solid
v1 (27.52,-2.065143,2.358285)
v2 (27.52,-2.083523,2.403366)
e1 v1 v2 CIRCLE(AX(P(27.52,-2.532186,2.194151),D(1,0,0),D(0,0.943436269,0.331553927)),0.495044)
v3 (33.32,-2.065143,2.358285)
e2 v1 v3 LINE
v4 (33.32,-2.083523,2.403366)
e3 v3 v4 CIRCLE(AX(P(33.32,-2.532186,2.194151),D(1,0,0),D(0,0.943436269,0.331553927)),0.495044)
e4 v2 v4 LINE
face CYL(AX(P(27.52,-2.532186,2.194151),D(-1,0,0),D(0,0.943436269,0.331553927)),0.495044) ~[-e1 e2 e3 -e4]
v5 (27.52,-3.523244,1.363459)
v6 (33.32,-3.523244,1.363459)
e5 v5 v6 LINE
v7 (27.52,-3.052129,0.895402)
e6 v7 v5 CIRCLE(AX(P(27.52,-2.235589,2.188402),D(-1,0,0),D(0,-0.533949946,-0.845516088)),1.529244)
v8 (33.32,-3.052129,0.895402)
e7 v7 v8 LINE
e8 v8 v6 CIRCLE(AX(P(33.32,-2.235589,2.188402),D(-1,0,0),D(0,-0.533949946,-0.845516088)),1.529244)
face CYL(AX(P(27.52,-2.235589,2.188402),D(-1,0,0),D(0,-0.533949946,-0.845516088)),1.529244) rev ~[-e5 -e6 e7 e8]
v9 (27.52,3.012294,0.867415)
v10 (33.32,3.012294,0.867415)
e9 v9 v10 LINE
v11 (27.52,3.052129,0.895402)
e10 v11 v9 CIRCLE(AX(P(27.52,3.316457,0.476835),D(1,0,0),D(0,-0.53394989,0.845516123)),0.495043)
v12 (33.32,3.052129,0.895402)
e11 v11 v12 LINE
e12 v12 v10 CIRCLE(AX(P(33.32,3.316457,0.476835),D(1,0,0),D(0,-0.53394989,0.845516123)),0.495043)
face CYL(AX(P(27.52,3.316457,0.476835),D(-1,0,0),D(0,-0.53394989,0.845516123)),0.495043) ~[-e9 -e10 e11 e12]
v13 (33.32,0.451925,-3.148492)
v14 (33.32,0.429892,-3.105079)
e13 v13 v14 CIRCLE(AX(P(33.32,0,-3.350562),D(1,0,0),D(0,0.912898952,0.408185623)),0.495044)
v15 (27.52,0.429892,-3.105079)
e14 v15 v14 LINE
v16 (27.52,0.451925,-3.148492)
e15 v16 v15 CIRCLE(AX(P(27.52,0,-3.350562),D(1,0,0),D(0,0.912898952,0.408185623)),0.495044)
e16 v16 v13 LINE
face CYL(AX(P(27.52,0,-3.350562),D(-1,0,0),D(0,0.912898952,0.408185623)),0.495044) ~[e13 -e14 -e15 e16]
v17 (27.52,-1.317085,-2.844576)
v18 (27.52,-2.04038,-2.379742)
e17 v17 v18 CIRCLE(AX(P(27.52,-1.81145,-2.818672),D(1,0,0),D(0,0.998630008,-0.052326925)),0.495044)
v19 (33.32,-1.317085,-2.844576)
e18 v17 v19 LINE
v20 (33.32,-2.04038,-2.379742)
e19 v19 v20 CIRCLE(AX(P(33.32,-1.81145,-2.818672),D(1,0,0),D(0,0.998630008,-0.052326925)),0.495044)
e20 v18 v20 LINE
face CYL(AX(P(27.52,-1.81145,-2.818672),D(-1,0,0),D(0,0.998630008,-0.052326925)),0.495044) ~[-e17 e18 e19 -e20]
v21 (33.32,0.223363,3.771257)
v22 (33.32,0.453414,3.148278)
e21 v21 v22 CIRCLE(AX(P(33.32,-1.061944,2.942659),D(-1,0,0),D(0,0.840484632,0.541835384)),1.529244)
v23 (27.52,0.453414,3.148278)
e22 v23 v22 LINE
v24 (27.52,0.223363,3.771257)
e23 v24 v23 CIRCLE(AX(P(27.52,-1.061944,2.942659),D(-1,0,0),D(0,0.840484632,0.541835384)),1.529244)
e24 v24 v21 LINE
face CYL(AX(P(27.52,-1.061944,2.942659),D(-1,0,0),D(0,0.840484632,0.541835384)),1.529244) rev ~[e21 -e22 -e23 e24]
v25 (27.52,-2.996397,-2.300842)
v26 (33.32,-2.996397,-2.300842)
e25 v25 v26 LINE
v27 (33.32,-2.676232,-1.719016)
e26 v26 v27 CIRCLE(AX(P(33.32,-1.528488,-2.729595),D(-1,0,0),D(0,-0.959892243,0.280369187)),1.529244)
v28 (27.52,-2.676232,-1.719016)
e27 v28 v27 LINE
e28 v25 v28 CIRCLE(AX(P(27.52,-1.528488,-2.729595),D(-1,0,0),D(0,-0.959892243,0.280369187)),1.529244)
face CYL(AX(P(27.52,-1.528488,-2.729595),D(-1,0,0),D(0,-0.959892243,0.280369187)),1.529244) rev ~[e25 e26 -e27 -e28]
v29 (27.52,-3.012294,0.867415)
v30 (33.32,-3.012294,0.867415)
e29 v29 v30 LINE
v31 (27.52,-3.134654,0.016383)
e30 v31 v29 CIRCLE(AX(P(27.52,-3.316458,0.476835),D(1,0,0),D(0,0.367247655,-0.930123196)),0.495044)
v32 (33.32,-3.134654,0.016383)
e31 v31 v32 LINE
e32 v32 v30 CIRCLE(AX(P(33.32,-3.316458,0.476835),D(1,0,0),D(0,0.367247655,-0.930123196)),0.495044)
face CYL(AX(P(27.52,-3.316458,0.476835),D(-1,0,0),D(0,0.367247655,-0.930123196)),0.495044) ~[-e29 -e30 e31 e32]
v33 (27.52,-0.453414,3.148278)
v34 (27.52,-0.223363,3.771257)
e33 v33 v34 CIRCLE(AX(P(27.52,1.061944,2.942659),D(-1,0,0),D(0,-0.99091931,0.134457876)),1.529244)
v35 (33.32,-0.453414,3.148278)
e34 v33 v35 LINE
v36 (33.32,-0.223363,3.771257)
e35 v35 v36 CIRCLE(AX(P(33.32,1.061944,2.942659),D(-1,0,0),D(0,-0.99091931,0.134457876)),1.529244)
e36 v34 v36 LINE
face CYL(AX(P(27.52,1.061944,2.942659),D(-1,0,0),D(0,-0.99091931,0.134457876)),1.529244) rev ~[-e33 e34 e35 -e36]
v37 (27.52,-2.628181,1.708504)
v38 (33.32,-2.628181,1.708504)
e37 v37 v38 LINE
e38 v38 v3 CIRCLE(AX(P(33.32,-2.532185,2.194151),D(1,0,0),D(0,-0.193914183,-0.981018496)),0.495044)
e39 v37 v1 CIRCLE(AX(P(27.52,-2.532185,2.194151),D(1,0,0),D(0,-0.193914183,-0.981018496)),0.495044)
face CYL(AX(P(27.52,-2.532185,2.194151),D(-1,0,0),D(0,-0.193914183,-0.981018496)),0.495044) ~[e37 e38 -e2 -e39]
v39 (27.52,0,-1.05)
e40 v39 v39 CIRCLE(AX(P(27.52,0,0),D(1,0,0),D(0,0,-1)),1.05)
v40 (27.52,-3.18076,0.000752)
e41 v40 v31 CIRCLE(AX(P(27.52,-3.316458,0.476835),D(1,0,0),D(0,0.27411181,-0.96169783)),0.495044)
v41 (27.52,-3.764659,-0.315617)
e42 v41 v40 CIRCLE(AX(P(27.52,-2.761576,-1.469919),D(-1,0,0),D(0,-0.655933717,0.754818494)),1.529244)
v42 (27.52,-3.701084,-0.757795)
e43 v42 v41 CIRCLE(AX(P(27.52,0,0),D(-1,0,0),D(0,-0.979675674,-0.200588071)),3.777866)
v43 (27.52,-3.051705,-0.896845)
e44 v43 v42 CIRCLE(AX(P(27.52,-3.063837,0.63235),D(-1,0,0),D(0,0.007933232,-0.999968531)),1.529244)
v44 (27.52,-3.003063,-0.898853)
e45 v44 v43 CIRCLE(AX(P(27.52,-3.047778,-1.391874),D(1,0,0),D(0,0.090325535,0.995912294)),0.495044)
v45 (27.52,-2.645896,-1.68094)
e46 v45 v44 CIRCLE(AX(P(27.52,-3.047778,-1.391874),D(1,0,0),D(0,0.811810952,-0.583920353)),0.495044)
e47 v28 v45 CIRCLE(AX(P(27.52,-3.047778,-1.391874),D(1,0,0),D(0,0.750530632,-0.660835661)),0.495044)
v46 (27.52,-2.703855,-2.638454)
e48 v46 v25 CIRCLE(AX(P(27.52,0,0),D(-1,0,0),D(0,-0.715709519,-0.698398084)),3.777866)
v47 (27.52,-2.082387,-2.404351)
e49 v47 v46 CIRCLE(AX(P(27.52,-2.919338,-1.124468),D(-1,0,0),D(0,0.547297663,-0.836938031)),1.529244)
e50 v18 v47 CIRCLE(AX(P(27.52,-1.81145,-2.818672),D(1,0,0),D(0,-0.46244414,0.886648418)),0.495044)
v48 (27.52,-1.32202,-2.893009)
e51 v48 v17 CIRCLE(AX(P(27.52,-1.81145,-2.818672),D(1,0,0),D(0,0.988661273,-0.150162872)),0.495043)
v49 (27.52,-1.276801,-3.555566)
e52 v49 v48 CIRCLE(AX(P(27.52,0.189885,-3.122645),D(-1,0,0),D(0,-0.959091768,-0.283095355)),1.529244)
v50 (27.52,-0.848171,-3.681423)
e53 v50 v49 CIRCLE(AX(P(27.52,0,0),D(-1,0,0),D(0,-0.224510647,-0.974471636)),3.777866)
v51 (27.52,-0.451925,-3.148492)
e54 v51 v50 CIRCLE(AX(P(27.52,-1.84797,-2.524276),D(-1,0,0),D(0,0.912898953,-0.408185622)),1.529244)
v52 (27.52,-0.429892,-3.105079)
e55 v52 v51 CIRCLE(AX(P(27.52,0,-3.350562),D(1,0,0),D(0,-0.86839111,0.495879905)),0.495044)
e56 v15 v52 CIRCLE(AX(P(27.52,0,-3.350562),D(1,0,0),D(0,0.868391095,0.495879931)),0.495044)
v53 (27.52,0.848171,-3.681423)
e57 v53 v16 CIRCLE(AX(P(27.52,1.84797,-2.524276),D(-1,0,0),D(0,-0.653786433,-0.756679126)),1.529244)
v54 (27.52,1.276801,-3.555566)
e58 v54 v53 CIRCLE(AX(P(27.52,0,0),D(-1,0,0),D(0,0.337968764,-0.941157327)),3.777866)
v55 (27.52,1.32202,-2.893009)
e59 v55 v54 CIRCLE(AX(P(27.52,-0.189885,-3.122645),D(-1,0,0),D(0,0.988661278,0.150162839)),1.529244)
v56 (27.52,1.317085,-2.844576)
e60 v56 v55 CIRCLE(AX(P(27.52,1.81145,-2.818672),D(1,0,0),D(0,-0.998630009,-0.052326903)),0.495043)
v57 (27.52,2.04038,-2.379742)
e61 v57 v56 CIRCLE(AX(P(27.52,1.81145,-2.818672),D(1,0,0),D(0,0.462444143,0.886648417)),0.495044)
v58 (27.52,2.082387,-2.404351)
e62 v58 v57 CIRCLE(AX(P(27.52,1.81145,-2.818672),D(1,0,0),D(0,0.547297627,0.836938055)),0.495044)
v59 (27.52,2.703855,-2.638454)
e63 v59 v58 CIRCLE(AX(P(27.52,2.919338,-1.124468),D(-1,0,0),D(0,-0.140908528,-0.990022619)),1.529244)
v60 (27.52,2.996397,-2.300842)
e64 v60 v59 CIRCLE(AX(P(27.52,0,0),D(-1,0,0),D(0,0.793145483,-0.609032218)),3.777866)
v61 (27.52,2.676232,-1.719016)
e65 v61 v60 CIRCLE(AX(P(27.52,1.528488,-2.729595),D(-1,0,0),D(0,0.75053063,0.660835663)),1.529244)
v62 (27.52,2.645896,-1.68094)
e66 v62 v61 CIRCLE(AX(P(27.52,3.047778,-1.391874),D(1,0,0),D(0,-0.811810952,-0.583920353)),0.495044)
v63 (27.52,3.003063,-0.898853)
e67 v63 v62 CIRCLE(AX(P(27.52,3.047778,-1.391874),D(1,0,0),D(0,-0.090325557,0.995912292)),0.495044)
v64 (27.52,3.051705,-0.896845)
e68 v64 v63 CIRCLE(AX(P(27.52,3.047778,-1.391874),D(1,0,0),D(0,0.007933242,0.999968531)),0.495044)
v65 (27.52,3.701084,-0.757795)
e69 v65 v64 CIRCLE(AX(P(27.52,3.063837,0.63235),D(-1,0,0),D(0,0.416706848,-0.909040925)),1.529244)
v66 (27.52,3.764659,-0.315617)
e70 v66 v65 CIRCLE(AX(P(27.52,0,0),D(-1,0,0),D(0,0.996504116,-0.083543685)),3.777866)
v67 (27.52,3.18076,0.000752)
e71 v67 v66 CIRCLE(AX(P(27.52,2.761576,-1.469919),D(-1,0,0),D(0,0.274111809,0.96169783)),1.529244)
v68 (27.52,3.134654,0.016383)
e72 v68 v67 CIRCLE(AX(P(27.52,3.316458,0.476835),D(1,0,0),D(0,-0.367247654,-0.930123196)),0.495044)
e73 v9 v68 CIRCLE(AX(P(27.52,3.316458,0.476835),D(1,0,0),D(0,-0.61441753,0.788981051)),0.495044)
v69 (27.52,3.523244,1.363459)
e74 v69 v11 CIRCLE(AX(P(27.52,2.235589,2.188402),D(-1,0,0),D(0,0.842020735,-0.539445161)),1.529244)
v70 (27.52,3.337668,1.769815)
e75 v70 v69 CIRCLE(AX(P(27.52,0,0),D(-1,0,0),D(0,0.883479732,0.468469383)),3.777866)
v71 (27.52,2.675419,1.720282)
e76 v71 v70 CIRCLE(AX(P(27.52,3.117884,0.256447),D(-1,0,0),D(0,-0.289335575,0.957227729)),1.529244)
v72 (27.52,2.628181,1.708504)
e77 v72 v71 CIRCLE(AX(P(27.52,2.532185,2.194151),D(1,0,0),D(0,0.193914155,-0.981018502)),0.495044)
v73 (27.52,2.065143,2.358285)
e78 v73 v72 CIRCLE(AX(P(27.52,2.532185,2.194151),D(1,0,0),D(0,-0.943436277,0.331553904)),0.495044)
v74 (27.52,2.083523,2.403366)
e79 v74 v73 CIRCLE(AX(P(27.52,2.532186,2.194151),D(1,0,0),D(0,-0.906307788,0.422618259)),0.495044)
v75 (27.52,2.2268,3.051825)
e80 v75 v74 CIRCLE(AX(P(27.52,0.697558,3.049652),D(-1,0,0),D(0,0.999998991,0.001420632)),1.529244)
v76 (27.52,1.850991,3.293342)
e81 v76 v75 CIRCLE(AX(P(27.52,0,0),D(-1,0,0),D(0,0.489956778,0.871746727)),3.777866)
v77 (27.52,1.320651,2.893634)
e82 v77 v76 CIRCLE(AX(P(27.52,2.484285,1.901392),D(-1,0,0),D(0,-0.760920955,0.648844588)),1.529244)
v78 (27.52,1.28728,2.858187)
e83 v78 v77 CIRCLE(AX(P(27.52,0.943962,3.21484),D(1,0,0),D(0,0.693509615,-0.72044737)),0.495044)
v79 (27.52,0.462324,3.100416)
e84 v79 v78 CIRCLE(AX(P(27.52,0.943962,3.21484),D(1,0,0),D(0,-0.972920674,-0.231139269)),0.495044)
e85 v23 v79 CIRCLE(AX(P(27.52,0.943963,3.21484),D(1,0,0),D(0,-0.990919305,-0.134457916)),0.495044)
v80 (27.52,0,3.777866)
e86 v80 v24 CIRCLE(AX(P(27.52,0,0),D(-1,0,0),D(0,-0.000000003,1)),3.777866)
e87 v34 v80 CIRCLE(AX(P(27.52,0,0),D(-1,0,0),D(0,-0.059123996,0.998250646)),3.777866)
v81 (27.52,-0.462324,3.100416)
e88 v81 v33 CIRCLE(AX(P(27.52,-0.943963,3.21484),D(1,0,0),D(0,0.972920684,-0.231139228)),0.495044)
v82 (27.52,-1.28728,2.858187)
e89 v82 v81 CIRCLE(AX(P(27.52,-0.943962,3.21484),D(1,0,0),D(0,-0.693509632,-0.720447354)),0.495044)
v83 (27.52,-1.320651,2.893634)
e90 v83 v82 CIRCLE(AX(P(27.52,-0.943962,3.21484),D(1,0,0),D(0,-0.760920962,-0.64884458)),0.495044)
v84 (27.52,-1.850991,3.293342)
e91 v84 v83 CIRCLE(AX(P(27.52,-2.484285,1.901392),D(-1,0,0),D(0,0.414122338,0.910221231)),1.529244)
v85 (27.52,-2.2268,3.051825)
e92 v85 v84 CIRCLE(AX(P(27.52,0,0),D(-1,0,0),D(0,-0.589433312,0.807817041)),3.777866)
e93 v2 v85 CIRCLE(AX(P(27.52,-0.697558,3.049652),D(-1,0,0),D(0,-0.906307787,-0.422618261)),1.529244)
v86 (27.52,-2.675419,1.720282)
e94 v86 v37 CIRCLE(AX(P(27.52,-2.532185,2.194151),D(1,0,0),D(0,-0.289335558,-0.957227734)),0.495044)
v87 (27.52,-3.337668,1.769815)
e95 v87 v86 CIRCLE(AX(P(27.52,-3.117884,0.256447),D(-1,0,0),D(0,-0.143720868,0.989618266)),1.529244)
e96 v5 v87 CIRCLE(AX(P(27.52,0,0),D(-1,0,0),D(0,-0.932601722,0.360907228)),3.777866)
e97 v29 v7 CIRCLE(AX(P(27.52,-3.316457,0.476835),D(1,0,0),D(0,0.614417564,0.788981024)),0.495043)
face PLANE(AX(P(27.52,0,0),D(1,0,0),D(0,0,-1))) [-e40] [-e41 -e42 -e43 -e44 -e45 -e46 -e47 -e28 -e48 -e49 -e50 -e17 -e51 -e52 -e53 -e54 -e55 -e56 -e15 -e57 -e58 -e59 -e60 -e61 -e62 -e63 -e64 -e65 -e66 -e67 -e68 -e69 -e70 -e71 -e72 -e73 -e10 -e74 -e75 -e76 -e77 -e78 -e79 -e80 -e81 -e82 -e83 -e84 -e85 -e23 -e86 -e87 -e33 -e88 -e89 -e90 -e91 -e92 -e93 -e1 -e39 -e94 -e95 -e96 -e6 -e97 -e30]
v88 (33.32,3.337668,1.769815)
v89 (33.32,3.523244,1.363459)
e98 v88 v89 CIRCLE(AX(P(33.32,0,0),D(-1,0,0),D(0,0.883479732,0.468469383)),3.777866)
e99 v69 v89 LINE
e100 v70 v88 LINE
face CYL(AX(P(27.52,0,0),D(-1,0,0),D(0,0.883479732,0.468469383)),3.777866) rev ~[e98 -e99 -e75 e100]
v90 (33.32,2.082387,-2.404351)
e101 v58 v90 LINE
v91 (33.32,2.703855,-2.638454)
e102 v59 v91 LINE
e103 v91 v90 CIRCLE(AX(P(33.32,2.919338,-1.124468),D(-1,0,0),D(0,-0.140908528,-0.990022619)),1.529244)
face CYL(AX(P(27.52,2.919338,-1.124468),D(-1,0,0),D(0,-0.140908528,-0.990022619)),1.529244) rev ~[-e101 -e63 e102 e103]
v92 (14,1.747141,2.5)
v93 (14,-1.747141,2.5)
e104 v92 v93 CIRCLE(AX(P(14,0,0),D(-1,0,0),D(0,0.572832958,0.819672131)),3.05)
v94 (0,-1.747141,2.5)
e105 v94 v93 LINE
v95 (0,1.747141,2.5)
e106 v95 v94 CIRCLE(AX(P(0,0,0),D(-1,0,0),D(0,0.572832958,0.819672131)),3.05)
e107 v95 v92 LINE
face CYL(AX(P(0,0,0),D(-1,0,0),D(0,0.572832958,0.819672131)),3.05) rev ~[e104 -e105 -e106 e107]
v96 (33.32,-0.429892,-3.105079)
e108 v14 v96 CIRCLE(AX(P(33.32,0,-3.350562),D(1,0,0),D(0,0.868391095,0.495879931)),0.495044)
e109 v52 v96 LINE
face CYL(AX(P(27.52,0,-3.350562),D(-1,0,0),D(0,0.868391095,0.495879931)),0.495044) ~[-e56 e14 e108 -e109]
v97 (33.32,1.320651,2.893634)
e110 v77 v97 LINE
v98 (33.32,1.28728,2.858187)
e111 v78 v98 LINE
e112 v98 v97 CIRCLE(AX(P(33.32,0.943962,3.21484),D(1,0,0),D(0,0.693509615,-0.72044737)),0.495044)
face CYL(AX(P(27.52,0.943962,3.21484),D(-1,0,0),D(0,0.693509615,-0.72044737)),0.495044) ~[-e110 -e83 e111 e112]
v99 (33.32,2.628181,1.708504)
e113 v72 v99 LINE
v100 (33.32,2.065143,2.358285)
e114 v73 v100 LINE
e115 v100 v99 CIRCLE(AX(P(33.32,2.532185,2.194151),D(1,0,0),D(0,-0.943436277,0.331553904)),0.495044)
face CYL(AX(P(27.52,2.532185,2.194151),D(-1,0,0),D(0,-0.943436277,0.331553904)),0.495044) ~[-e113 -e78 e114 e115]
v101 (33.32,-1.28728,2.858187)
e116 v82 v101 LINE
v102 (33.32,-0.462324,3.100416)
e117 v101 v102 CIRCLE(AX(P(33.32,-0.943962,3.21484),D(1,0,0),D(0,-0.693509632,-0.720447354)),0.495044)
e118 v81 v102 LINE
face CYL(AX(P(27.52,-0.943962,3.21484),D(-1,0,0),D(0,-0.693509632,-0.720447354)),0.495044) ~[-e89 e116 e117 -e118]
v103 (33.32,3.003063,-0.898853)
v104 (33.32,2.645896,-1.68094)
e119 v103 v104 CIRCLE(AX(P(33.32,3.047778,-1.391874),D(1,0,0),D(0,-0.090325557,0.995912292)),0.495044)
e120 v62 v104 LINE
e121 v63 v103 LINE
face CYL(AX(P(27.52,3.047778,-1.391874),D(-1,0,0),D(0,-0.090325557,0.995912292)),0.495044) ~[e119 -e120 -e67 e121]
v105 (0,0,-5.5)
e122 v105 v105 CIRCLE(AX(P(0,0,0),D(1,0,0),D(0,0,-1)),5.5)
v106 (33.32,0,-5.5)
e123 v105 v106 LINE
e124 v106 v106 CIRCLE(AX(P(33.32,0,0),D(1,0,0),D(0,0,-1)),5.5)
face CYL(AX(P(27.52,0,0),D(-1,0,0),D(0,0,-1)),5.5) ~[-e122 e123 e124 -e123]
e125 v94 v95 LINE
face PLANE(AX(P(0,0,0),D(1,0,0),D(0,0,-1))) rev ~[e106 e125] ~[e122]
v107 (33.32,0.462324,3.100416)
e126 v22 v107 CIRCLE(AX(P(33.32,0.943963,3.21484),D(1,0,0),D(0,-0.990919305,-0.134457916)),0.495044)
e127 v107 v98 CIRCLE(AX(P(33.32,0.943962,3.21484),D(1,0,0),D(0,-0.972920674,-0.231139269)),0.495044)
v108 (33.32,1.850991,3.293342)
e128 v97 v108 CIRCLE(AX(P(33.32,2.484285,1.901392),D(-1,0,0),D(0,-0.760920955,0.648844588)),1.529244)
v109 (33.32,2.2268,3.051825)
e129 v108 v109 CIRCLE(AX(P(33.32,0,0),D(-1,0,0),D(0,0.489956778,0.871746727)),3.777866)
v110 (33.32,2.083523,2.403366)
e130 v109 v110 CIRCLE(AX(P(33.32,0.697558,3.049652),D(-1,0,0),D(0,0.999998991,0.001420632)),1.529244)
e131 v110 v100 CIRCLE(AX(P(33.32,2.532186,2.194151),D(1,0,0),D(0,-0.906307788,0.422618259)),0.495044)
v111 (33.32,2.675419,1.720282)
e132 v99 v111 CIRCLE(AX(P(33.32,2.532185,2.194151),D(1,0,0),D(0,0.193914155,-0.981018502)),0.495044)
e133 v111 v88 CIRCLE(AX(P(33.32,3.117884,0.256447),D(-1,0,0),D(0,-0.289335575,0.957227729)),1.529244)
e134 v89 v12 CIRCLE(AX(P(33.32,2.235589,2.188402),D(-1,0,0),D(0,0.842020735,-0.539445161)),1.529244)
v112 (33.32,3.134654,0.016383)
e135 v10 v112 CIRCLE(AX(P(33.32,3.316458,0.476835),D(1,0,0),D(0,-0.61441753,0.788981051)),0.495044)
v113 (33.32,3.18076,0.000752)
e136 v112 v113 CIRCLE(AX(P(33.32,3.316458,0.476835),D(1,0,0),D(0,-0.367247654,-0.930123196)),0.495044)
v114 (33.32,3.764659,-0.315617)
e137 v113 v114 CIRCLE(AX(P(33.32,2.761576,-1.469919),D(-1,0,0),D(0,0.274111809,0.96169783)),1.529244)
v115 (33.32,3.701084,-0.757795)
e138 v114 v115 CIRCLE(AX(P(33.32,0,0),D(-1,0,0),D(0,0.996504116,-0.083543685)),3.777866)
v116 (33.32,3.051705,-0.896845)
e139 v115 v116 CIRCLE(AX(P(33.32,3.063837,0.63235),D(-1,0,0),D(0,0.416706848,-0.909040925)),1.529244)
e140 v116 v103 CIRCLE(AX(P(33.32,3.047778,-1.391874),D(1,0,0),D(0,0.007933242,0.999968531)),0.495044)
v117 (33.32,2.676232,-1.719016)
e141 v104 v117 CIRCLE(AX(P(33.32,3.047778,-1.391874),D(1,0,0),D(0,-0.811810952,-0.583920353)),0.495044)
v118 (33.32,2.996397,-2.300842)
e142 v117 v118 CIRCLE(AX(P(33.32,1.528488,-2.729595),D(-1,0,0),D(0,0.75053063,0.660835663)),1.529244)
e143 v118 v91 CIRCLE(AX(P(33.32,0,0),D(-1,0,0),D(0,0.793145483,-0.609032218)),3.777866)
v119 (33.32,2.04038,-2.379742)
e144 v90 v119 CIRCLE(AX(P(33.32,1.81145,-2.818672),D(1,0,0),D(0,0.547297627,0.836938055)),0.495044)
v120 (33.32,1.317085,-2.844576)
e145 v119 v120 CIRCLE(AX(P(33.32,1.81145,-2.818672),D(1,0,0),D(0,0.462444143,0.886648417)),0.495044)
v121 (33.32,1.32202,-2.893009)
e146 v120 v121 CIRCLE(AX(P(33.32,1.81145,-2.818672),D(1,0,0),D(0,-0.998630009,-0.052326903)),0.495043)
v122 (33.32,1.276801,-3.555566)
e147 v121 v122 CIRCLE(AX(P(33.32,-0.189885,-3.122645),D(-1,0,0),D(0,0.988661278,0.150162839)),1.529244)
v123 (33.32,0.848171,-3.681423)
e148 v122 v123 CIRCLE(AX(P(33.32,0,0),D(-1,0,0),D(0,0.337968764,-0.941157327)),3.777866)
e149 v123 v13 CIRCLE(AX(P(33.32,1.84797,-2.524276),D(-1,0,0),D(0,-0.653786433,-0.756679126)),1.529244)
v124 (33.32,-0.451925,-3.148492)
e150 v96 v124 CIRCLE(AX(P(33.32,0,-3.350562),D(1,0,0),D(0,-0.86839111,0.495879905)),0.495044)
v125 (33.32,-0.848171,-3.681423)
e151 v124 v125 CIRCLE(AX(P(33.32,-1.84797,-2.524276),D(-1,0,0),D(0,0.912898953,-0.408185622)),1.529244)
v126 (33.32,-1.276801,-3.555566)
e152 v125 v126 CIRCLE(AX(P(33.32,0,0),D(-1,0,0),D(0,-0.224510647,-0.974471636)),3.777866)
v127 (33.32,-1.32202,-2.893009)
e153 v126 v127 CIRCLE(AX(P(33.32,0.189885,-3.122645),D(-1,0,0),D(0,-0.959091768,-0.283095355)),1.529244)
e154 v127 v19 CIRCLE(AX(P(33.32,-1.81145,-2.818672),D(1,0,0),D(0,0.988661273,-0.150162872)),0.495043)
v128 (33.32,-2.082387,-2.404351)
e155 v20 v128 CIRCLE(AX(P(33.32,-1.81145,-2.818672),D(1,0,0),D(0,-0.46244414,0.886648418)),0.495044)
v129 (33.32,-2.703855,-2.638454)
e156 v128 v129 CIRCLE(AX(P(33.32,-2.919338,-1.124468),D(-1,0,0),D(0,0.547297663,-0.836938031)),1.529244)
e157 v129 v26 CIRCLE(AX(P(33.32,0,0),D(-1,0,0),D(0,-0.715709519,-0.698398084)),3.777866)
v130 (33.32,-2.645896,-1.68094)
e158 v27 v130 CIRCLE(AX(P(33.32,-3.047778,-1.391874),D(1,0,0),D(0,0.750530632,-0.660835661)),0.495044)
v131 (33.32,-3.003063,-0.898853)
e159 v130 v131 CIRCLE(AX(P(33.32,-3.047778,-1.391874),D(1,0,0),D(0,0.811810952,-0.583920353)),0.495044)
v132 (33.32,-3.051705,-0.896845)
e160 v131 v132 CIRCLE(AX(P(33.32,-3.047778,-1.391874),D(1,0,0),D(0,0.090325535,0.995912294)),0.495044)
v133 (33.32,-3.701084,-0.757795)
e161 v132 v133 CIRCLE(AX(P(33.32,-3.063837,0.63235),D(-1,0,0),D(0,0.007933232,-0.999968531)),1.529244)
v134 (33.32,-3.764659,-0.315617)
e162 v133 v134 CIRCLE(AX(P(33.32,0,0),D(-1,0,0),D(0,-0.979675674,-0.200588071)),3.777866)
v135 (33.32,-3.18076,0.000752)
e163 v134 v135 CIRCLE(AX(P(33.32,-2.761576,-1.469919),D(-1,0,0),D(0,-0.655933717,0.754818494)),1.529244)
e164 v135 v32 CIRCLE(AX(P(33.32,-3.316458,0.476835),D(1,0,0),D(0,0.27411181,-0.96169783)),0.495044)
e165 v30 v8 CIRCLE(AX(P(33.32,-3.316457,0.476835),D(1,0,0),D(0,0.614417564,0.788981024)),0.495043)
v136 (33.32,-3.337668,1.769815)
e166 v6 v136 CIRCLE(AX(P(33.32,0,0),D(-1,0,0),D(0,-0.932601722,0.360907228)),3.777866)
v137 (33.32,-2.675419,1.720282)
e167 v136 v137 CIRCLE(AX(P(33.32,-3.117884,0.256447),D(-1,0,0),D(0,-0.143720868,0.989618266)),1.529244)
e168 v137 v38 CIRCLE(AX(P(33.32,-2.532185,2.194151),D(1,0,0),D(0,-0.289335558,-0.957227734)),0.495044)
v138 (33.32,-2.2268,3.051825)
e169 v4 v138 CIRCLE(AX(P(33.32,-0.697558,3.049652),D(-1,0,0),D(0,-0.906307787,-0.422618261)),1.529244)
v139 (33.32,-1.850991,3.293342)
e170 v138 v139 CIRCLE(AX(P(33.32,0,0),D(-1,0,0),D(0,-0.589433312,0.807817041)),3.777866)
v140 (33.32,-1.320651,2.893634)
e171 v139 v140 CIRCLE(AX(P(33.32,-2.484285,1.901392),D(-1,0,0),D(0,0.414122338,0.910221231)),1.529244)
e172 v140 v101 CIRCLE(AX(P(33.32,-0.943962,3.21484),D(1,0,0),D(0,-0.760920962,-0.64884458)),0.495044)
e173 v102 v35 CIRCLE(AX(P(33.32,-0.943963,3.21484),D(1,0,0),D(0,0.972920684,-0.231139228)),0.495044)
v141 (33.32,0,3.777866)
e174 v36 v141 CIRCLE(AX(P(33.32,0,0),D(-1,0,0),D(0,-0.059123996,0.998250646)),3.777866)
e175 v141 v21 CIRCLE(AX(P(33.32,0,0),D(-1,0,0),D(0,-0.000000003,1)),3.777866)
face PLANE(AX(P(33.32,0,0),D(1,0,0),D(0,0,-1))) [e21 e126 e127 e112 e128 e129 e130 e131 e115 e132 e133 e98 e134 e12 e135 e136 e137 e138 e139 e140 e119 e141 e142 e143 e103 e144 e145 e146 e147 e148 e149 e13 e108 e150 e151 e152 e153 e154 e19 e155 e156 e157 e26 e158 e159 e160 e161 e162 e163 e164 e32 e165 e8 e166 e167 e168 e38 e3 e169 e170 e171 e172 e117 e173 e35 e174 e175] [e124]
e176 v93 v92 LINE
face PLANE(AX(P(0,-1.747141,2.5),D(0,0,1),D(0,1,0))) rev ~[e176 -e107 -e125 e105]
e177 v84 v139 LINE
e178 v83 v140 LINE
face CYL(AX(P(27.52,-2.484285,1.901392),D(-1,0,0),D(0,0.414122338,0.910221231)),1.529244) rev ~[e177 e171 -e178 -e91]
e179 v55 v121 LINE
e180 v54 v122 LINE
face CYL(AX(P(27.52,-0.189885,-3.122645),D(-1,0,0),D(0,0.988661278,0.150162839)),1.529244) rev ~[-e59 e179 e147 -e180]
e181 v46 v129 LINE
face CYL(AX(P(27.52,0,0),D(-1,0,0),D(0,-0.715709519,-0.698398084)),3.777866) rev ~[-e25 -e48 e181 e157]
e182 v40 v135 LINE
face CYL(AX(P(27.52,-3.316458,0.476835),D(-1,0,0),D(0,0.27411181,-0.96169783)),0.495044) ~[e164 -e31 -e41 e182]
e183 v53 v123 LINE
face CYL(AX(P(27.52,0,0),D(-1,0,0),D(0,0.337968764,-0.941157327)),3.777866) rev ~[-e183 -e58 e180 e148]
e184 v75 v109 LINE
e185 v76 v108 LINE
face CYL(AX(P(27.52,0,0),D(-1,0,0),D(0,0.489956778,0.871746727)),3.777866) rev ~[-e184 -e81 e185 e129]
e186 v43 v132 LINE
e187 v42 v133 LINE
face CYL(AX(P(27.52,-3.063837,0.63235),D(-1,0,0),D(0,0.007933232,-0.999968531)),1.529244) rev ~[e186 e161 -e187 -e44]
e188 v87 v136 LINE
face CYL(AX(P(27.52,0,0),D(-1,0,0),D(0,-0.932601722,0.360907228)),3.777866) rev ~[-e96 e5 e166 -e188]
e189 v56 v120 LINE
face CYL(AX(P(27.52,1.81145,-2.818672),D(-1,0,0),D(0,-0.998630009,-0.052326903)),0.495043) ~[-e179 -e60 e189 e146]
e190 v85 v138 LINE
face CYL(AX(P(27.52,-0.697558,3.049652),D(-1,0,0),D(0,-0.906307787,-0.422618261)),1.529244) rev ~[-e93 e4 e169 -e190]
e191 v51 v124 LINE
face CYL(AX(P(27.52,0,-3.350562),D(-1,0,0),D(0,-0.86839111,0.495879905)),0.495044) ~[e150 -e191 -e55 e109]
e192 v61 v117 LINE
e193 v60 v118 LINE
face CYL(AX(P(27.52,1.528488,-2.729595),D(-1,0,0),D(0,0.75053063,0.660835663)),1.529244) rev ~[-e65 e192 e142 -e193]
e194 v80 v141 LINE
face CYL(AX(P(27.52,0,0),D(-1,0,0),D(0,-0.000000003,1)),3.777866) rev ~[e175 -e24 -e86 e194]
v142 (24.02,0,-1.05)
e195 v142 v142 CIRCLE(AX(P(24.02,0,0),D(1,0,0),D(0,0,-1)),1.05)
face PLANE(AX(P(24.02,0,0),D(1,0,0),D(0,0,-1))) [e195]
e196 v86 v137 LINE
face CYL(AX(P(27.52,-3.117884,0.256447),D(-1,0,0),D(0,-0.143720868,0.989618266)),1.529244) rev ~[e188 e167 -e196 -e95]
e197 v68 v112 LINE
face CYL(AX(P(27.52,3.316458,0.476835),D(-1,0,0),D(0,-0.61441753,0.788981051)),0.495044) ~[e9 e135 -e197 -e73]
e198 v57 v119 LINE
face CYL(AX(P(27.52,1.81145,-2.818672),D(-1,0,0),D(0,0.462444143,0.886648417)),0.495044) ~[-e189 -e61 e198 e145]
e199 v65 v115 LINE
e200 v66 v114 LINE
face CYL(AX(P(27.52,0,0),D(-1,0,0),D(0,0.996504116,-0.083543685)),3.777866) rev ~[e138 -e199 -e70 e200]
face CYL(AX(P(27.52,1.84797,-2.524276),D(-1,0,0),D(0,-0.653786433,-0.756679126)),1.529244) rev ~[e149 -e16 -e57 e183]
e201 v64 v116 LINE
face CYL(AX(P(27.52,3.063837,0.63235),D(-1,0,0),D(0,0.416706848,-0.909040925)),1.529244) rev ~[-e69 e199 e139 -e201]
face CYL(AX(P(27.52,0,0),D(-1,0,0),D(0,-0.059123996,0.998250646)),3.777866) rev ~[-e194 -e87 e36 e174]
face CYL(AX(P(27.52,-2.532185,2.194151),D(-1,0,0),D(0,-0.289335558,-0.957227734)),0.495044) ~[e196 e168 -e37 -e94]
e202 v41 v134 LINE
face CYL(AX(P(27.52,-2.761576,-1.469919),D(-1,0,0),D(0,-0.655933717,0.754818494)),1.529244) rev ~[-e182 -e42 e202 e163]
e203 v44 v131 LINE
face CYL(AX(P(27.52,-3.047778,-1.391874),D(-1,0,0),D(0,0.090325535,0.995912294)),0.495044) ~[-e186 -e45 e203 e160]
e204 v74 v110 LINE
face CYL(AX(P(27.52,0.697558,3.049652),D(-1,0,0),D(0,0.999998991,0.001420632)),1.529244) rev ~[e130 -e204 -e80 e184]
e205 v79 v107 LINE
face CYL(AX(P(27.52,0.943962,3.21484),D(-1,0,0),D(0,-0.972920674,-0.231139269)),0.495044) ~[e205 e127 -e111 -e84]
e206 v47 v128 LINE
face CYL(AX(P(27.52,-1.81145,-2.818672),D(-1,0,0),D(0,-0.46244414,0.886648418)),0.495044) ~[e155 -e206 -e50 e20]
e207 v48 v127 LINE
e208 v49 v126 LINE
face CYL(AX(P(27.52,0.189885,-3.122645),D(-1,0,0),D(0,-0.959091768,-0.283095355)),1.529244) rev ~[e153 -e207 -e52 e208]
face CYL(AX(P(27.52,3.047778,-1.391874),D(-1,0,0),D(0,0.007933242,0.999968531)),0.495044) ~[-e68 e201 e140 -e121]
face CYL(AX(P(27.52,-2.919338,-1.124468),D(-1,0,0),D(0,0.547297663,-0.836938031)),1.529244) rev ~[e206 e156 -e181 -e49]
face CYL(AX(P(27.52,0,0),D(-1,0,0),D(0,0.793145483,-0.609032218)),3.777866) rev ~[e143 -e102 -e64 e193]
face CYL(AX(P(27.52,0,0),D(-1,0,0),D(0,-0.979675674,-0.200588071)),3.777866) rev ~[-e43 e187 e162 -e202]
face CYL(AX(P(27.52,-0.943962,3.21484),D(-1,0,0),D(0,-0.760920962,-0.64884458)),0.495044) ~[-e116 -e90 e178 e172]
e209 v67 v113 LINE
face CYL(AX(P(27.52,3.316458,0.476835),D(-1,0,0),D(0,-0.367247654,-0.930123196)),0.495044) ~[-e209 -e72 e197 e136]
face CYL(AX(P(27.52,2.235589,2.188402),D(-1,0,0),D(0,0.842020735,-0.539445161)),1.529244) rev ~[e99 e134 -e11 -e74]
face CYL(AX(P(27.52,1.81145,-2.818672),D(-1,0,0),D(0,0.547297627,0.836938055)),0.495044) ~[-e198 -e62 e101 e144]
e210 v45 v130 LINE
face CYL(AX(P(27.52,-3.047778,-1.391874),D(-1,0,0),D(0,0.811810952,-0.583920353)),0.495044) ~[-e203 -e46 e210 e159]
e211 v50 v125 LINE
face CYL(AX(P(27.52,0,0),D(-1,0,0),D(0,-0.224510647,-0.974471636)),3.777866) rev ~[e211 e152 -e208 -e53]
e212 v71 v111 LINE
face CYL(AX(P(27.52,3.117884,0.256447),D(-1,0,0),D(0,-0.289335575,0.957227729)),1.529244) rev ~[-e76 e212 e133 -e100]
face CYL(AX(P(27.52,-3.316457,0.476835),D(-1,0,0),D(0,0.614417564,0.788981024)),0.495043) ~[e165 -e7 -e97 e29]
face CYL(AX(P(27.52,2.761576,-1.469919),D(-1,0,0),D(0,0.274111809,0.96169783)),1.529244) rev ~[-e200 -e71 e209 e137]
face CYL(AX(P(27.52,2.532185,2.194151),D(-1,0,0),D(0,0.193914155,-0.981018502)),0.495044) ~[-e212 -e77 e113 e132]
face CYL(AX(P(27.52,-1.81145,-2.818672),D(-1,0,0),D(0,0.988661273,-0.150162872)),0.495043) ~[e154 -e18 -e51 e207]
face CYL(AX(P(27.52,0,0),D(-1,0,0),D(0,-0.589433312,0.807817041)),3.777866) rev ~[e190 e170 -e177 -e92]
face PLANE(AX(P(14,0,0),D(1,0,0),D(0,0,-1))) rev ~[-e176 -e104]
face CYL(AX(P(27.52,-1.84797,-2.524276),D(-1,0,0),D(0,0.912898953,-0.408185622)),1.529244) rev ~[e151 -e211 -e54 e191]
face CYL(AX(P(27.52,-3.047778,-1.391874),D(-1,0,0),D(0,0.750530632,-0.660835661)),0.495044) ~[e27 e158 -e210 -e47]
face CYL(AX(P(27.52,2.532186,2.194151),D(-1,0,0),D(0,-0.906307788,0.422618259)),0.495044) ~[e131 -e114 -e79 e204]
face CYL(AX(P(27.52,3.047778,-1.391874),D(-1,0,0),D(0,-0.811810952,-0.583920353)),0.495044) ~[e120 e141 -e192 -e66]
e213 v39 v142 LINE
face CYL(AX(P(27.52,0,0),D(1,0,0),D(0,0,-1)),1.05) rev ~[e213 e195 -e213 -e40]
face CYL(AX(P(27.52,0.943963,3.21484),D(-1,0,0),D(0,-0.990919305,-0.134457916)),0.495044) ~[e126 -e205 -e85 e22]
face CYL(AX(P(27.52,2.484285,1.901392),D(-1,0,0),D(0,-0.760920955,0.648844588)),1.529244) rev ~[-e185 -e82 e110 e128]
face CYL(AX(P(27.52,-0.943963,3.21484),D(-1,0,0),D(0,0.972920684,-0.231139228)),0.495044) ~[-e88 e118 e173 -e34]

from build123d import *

# Parameters (mm, degrees)
SKETCH1_R           = 5.5
BOSS_EXTRUDE1_DEPTH = 14
SKETCH2_R           = 5.5
BOSS_EXTRUDE2_DEPTH = 13.52
SKETCH3_R           = 5.5
BOSS_EXTRUDE3_DEPTH = 5.8
SKETCH4_R           = 1.05
CUT_EXTRUDE1_DEPTH  = 3.5


with BuildPart() as part:
    # Sketch1 → Boss-Extrude1 (new body)
    with BuildSketch(Plane.YZ):
        with Locations(Location((0, 0, 0), (0, 0, 270))):
            Circle(SKETCH1_R)
        with BuildLine():
            Line((-1.747140521, 2.5), (1.747140521, 2.5))
            ThreePointArc((1.747140521, 2.5), (0, -3.05), (-1.747140521, 2.5))
        make_face(mode=Mode.SUBTRACT)
    extrude(amount=BOSS_EXTRUDE1_DEPTH)

    # Sketch2 → Boss-Extrude2 (add)
    with BuildSketch(Plane.YZ.offset(14)):
        with Locations(Location((0, 0, 0), (0, 0, 270))):
            Circle(SKETCH2_R)
    extrude(amount=BOSS_EXTRUDE2_DEPTH)

    # Sketch3 → Boss-Extrude3 (add)
    with BuildSketch(Plane.YZ.offset(27.52)):
        with Locations(Location((0, 0, 0), (0, 0, 270))):
            Circle(SKETCH3_R)
        with BuildLine():
            ThreePointArc((-1.322019746, -2.893008891), (-1.318956528, -2.868853063), (-1.317084788, -2.844575833))
            ThreePointArc((-1.317084788, -2.844575833), (-1.543809469, -2.402214423), (-2.040380396, -2.37974197))
            ThreePointArc((-2.040380396, -2.37974197), (-2.061686193, -2.391529691), (-2.0823866, -2.404350785))
            ThreePointArc((-2.0823866, -2.404350785), (-2.380259348, -2.555545236), (-2.703854763, -2.638454478))
            ThreePointArc((-2.703854763, -2.638454478), (-2.855120731, -2.473976197), (-2.996397469, -2.300842198))
            ThreePointArc((-2.996397469, -2.300842198), (-2.868279694, -1.992339732), (-2.676232473, -1.719016114))
            ThreePointArc((-2.676232473, -1.719016114), (-2.660595904, -1.700351039), (-2.645896034, -1.680939672))
            ThreePointArc((-2.645896034, -1.680939672), (-2.597470339, -1.186224957), (-3.003062861, -0.898853414))
            ThreePointArc((-3.003062861, -0.898853414), (-3.02735936, -0.897251093), (-3.051705258, -0.896845399))
            ThreePointArc((-3.051705258, -0.896845399), (-3.384033651, -0.862996099), (-3.701083558, -0.757794901))
            ThreePointArc((-3.701083558, -0.757794901), (-3.739412915, -0.537646409), (-3.764659163, -0.315616851))
            ThreePointArc((-3.764659163, -0.315616851), (-3.490090608, -0.12535376), (-3.1807603, 0.000752133))
            ThreePointArc((-3.1807603, 0.000752133), (-3.157514879, 0.008000426), (-3.134653985, 0.016382957))
            ThreePointArc((-3.134653985, 0.016382957), (-2.82645273, 0.406382552), (-3.012294086, 0.86741475))
            ThreePointArc((-3.012294086, 0.86741475), (-3.031867321, 0.881898388), (-3.052129059, 0.895402065))
            ThreePointArc((-3.052129059, 0.895402065), (-3.31340118, 1.103548202), (-3.523244473, 1.363459202))
            ThreePointArc((-3.523244473, 1.363459202), (-3.43646792, 1.569382314), (-3.337668173, 1.769814617))
            ThreePointArc((-3.337668173, 1.769814617), (-3.003822413, 1.781431146), (-2.675419206, 1.720281583))
            ThreePointArc((-2.675419206, 1.720281583), (-2.65194519, 1.713811812), (-2.628181444, 1.708504114))
            ThreePointArc((-2.628181444, 1.708504114), (-2.158056349, 1.869966471), (-2.065143222, 2.35828486))
            ThreePointArc((-2.065143222, 2.35828486), (-2.07377883, 2.381051361), (-2.083523449, 2.4033657))
            ThreePointArc((-2.083523449, 2.4033657), (-2.190787246, 2.719723746), (-2.226800162, 3.051824643))
            ThreePointArc((-2.226800162, 3.051824643), (-2.042468641, 3.178143241), (-1.850991121, 3.293342448))
            ThreePointArc((-1.850991121, 3.293342448), (-1.563861826, 3.12262425), (-1.320651417, 2.893633786))
            ThreePointArc((-1.320651417, 2.893633786), (-1.304401641, 2.875500057), (-1.287279864, 2.858187286))
            ThreePointArc((-1.287279864, 2.858187286), (-0.804492326, 2.739849249), (-0.462323977, 3.100416189))
            ThreePointArc((-0.462323977, 3.100416189), (-0.457280213, 3.124237351), (-0.453413865, 3.148277707))
            ThreePointArc((-0.453413865, 3.148277707), (-0.372613841, 3.472406218), (-0.223362534, 3.771257322))
            ThreePointArc((-0.223362534, 3.771257322), (-0.111730141, 3.776213578), (0, 3.777866145))
            ThreePointArc((0, 3.777866145), (0.111730141, 3.776213578), (0.223362534, 3.771257322))
            ThreePointArc((0.223362534, 3.771257322), (0.372613841, 3.472406218), (0.453413865, 3.148277707))
            ThreePointArc((0.453413865, 3.148277707), (0.457280213, 3.124237351), (0.462323977, 3.100416189))
            ThreePointArc((0.462323977, 3.100416189), (0.804492326, 2.739849249), (1.287279864, 2.858187286))
            ThreePointArc((1.287279864, 2.858187286), (1.304401641, 2.875500057), (1.320651417, 2.893633786))
            ThreePointArc((1.320651417, 2.893633786), (1.563861826, 3.12262425), (1.850991121, 3.293342448))
            ThreePointArc((1.850991121, 3.293342448), (2.042468641, 3.178143241), (2.226800162, 3.051824643))
            ThreePointArc((2.226800162, 3.051824643), (2.190787246, 2.719723746), (2.083523449, 2.4033657))
            ThreePointArc((2.083523449, 2.4033657), (2.07377883, 2.381051361), (2.065143222, 2.35828486))
            ThreePointArc((2.065143222, 2.35828486), (2.158056349, 1.869966471), (2.628181444, 1.708504114))
            ThreePointArc((2.628181444, 1.708504114), (2.65194519, 1.713811812), (2.675419206, 1.720281583))
            ThreePointArc((2.675419206, 1.720281583), (3.003822413, 1.781431146), (3.337668173, 1.769814617))
            ThreePointArc((3.337668173, 1.769814617), (3.43646792, 1.569382314), (3.523244473, 1.363459202))
            ThreePointArc((3.523244473, 1.363459202), (3.31340118, 1.103548202), (3.052129059, 0.895402065))
            ThreePointArc((3.052129059, 0.895402065), (3.031867321, 0.881898388), (3.012294086, 0.86741475))
            ThreePointArc((3.012294086, 0.86741475), (2.82645273, 0.406382552), (3.134653985, 0.016382957))
            ThreePointArc((3.134653985, 0.016382957), (3.157514879, 0.008000426), (3.1807603, 0.000752133))
            ThreePointArc((3.1807603, 0.000752133), (3.490090608, -0.12535376), (3.764659163, -0.315616851))
            ThreePointArc((3.764659163, -0.315616851), (3.739412915, -0.537646409), (3.701083558, -0.757794901))
            ThreePointArc((3.701083558, -0.757794901), (3.384033651, -0.862996099), (3.051705258, -0.896845399))
            ThreePointArc((3.051705258, -0.896845399), (3.02735936, -0.897251093), (3.003062861, -0.898853414))
            ThreePointArc((3.003062861, -0.898853414), (2.597470339, -1.186224957), (2.645896034, -1.680939672))
            ThreePointArc((2.645896034, -1.680939672), (2.660595904, -1.700351039), (2.676232473, -1.719016114))
            ThreePointArc((2.676232473, -1.719016114), (2.868279694, -1.992339732), (2.996397469, -2.300842198))
            ThreePointArc((2.996397469, -2.300842198), (2.855120731, -2.473976197), (2.703854763, -2.638454478))
            ThreePointArc((2.703854763, -2.638454478), (2.380259349, -2.555545235), (2.082386604, -2.404350784))
            ThreePointArc((2.082386604, -2.404350784), (2.061686196, -2.39152969), (2.0403804, -2.379741969))
            ThreePointArc((2.0403804, -2.379741969), (1.54380947, -2.402214422), (1.317084788, -2.844575834))
            ThreePointArc((1.317084788, -2.844575834), (1.318956528, -2.868853064), (1.322019746, -2.893008892))
            ThreePointArc((1.322019746, -2.893008892), (1.335810244, -3.226771918), (1.27680075, -3.555566405))
            ThreePointArc((1.27680075, -3.555566405), (1.064347889, -3.624836022), (0.848171186, -3.6814234))
            ThreePointArc((0.848171186, -3.6814234), (0.62076952, -3.436726817), (0.45192491, -3.148491786))
            ThreePointArc((0.45192491, -3.148491786), (0.441442226, -3.12651451), (0.429891573, -3.105079266))
            ThreePointArc((0.429891573, -3.105079266), (0, -2.855517783), (-0.429891573, -3.105079265))
            ThreePointArc((-0.429891573, -3.105079265), (-0.441442226, -3.12651451), (-0.45192491, -3.148491786))
            ThreePointArc((-0.45192491, -3.148491786), (-0.62076952, -3.436726817), (-0.848171186, -3.6814234))
            ThreePointArc((-0.848171186, -3.6814234), (-1.064347889, -3.624836022), (-1.27680075, -3.555566405))
            ThreePointArc((-1.27680075, -3.555566405), (-1.335810244, -3.226771917), (-1.322019746, -2.893008891))
        make_face(mode=Mode.SUBTRACT)
    extrude(amount=BOSS_EXTRUDE3_DEPTH)

    # Sketch4 → Cut-Extrude1 (cut)
    with BuildSketch(Plane.YZ.offset(27.52)):
        with Locations(Location((0, 0, 0), (0, 0, 270))):
            Circle(SKETCH4_R)
    extrude(amount=-CUT_EXTRUDE1_DEPTH, mode=Mode.SUBTRACT)


solid = part.part
